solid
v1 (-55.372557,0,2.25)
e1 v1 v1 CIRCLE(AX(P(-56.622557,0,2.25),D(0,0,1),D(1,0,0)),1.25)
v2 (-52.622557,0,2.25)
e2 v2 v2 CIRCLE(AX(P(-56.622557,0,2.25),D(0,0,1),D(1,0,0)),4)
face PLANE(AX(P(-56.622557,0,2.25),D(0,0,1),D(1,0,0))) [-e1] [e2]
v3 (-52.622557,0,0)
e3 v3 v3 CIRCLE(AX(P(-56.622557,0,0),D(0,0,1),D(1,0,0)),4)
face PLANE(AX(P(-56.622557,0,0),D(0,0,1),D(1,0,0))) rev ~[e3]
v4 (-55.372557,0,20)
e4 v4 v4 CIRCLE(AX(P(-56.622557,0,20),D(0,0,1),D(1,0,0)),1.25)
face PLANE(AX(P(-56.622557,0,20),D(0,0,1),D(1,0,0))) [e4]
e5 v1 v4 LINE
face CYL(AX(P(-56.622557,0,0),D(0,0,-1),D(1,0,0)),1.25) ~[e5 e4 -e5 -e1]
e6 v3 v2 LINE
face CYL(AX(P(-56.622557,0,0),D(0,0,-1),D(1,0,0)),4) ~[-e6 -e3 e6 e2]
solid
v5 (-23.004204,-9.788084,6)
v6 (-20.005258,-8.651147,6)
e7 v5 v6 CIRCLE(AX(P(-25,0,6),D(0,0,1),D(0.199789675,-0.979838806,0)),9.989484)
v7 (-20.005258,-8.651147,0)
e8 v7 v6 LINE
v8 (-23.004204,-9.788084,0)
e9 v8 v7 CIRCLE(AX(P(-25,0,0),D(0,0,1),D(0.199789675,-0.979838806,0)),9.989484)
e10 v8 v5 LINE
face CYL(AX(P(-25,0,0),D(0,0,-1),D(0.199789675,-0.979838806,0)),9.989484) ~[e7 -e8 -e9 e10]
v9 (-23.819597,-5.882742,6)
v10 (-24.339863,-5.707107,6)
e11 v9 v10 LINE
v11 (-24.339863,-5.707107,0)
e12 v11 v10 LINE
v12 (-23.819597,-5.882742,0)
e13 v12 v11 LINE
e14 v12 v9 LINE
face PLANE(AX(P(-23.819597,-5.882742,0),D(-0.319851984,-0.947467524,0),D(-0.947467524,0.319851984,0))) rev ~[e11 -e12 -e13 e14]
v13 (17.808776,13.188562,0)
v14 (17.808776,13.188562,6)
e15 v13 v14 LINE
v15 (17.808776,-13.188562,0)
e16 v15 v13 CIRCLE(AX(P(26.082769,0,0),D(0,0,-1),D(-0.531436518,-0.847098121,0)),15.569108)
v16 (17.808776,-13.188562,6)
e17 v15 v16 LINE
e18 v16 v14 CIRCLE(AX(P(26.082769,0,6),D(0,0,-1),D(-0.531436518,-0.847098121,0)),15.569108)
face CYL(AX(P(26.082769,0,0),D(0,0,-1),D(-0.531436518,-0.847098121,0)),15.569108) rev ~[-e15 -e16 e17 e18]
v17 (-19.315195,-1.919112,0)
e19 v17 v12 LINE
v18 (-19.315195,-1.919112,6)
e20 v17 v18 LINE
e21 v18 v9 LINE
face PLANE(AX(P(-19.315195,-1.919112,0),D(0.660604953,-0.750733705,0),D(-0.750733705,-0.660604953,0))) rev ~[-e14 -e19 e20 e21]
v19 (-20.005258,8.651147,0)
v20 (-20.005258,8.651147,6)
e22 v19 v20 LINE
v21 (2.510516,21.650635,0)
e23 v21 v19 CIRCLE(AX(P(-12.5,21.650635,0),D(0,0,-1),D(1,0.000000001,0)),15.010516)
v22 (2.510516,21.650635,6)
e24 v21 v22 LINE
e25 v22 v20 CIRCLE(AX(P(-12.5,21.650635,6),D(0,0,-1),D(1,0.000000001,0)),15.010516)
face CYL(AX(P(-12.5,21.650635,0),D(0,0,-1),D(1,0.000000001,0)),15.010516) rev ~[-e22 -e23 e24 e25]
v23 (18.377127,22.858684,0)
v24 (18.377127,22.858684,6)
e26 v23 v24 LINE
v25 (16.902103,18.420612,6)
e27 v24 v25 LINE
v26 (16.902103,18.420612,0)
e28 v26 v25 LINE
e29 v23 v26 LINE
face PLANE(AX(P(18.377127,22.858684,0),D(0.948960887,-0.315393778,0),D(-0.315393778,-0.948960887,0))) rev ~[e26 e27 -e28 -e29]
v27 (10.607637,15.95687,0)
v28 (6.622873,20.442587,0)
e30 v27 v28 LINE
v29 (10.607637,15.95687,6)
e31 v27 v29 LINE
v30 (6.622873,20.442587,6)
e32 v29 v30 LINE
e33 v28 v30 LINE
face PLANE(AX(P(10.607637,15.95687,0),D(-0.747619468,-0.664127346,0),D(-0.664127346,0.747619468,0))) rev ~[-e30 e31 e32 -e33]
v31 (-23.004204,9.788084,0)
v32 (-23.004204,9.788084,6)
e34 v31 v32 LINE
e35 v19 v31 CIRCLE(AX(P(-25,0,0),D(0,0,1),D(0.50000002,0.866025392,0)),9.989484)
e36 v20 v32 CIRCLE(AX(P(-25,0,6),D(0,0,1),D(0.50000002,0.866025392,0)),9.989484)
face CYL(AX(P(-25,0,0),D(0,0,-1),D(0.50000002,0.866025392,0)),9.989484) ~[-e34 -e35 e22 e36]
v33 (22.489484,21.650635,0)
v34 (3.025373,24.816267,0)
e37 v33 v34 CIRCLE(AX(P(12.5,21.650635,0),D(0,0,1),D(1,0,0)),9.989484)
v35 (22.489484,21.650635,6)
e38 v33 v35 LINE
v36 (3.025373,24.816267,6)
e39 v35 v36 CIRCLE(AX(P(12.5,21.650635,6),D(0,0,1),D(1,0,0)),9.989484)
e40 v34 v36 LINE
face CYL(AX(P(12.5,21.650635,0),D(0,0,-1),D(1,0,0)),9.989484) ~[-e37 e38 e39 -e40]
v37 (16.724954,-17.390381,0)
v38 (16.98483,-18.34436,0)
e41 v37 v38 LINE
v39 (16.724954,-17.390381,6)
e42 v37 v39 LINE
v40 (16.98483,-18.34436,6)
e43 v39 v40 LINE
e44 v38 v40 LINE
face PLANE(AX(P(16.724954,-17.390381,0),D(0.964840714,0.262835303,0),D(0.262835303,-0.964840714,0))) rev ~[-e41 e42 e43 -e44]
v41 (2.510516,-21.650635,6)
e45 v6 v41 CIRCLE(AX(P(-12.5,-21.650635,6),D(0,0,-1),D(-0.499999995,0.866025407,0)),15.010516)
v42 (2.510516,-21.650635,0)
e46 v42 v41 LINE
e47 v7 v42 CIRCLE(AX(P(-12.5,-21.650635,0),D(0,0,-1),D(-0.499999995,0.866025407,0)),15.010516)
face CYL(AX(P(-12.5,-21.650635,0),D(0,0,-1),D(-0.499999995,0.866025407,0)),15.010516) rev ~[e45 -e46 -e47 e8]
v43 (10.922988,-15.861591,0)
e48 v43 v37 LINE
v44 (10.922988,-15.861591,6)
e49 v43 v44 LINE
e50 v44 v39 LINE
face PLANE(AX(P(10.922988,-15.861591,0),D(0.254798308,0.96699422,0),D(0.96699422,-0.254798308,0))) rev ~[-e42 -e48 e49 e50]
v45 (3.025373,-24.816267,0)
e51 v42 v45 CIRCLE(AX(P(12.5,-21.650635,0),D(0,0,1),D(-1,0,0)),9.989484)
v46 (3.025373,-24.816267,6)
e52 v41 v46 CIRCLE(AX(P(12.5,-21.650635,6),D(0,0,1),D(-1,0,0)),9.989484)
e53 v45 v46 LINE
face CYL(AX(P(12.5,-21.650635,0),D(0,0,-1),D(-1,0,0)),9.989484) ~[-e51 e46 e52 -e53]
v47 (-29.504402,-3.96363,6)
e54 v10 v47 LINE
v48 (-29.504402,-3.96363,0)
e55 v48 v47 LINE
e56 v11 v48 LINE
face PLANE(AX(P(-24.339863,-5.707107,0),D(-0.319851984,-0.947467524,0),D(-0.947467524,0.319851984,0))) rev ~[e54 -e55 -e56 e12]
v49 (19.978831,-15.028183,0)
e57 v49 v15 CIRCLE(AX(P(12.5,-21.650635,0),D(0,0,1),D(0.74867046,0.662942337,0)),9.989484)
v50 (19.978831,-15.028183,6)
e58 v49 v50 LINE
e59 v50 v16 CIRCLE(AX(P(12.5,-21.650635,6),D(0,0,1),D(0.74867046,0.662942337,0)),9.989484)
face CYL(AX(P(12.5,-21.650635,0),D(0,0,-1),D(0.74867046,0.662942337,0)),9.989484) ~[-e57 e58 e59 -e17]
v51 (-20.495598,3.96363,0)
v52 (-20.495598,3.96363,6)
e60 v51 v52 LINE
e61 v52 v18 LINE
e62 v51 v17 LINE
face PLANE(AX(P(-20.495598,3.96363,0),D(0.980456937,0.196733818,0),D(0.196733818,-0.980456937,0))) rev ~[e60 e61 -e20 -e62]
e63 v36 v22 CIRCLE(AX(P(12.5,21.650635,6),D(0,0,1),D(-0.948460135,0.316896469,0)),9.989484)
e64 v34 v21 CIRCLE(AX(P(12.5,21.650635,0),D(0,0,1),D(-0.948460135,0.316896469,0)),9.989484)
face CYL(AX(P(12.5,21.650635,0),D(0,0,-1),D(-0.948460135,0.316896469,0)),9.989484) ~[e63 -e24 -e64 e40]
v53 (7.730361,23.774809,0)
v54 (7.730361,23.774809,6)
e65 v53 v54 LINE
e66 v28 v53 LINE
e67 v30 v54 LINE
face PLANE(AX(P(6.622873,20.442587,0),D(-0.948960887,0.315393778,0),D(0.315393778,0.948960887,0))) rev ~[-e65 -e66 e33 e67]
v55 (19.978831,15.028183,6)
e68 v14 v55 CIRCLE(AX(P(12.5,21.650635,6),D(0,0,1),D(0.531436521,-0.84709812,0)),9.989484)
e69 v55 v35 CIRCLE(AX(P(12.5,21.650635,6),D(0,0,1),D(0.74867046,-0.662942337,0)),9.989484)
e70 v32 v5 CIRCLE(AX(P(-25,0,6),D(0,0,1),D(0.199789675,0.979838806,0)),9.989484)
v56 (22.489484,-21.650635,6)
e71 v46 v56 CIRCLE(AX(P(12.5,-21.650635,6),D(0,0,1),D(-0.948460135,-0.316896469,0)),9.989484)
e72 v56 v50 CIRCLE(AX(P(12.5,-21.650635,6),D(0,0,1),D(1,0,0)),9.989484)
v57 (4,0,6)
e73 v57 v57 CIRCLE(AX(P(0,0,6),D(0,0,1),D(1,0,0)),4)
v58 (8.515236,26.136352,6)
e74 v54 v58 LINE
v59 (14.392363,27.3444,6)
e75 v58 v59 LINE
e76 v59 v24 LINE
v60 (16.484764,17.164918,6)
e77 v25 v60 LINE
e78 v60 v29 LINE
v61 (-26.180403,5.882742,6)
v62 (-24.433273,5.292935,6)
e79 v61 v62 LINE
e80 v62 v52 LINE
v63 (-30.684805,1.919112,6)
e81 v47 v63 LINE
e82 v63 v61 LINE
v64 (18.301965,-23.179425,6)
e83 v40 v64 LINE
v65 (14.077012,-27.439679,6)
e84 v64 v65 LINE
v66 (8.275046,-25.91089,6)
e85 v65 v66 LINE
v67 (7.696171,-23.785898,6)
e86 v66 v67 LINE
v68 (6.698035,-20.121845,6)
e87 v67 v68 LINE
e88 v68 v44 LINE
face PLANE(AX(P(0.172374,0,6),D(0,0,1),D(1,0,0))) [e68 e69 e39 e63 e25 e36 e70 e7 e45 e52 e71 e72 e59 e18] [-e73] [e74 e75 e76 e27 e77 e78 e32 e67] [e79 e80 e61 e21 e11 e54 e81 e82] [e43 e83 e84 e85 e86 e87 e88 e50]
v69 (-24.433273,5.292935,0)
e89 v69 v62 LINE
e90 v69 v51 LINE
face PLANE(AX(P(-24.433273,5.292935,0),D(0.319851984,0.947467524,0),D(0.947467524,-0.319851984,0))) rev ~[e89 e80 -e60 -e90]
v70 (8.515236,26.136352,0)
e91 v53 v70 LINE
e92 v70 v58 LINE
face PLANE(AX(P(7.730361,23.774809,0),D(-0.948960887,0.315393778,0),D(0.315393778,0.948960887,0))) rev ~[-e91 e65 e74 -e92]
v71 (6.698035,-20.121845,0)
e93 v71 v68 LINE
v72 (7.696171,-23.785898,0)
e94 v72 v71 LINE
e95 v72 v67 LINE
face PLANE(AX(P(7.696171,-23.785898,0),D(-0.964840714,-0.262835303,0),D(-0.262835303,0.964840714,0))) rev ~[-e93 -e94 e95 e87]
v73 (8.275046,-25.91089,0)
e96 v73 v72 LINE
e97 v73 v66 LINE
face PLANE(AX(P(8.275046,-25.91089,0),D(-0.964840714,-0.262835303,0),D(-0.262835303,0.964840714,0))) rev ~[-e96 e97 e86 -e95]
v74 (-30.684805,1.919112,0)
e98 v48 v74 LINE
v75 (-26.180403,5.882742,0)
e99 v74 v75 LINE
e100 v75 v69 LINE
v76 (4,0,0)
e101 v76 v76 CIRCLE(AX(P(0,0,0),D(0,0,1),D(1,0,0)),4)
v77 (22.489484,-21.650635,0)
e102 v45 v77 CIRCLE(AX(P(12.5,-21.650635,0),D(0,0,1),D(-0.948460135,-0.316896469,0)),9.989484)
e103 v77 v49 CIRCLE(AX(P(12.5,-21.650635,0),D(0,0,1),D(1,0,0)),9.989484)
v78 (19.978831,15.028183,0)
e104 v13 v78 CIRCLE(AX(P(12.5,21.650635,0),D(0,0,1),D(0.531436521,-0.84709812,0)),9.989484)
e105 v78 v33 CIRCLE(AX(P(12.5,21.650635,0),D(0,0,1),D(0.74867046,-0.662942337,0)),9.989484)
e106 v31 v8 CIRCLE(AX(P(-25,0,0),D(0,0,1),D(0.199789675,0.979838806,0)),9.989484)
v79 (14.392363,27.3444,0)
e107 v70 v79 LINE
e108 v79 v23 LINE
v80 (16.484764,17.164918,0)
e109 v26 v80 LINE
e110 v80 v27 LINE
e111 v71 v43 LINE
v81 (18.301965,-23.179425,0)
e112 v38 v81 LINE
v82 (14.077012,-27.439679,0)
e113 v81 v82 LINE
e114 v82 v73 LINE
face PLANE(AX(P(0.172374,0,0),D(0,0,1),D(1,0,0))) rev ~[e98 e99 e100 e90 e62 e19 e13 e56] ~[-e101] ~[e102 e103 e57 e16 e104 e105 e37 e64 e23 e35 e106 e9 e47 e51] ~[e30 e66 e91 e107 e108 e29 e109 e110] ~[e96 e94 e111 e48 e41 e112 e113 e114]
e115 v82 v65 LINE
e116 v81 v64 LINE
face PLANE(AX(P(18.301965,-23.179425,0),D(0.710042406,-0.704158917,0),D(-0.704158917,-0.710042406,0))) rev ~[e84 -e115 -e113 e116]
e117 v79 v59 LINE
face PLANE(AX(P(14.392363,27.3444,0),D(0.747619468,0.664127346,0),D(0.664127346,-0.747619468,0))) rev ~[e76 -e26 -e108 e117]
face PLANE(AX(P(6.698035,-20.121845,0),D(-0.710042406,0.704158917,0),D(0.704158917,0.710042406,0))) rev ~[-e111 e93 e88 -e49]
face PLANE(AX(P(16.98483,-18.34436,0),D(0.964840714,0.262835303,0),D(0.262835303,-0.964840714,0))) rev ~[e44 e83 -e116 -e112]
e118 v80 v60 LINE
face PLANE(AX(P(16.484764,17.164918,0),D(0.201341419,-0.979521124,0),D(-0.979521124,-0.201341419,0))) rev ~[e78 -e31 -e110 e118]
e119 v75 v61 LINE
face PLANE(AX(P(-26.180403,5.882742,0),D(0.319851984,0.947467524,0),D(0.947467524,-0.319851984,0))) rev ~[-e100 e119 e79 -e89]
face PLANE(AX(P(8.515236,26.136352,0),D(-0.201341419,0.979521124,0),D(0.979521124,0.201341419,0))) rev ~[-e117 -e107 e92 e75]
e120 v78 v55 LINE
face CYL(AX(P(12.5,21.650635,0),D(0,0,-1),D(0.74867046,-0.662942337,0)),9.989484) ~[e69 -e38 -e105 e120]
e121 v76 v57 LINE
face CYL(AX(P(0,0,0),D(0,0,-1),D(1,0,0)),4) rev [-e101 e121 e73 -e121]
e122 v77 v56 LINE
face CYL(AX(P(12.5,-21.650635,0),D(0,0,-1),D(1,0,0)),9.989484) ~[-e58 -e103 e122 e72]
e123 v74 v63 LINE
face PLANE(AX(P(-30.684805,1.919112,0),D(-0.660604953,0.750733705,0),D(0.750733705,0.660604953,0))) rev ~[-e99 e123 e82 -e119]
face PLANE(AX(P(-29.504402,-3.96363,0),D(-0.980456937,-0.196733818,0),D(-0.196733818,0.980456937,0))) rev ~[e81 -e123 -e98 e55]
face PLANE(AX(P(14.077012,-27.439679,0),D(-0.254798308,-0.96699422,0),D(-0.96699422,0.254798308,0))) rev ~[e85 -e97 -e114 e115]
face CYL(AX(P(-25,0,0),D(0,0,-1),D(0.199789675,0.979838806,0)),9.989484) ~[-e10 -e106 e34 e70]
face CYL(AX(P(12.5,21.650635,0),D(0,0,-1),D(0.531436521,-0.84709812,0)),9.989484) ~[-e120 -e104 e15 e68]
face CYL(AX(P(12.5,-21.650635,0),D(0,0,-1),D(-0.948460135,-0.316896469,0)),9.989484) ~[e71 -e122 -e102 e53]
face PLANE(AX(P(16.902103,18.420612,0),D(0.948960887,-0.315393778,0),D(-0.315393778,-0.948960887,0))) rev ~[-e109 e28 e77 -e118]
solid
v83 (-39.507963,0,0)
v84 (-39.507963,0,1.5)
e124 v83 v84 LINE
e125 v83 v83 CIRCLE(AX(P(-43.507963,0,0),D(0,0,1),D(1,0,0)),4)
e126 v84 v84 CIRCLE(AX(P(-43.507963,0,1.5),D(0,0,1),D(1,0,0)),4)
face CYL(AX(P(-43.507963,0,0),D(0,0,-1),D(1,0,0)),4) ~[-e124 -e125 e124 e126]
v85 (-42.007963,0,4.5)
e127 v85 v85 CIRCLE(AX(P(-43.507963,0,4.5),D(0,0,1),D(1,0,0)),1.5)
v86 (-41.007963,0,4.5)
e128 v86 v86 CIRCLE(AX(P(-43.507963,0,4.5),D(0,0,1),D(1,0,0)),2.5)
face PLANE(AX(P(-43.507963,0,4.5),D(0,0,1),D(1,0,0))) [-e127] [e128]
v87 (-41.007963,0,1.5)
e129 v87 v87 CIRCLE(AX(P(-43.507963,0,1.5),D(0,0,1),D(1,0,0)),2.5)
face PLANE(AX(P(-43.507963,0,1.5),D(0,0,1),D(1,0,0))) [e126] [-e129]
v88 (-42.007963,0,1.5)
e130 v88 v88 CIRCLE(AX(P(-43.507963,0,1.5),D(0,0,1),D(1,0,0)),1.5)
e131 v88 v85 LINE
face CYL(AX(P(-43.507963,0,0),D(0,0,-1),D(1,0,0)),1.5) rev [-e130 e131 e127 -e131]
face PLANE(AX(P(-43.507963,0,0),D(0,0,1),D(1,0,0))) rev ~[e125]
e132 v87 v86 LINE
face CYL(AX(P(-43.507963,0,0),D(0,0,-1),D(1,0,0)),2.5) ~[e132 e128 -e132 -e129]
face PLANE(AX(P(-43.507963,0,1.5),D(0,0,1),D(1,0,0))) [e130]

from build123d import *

# Parameters (mm, degrees)
F0_R     = 4
F1_DEPTH = 6
F2_R     = 4
F2_R_2   = 1.25
F3_DEPTH = 2.25
F4_DEPTH = 20
F2_R_3   = 2.5
F5_DEPTH = 1.5
F2_R_4   = 1.5
F6_DEPTH = 4.5
F7_DEPTH = 1.5


with BuildPart() as f1:
    # F0 (on Top) → F1 (new body)
    with BuildSketch(Plane.XY):
        with BuildLine():
            ThreePointArc((17.8087764651, -13.1885621655), (10.5136609995, 1.55e-08), (17.8087764913, 13.1885621819))
            ThreePointArc((17.8087764913, 13.1885621819), (7.6648242348, 12.9093044674), (2.5105162388, 21.6506351062))
            ThreePointArc((2.5105162388, 21.6506351062), (-4.9947417775, 8.6511467674), (-20.0052579234, 8.6511465947))
            ThreePointArc((-20.0052579234, 8.6511465947), (-16.3488532355, 4.9947417826), (-15.0105162388, 0))
            ThreePointArc((-15.0105162388, 0), (-16.348853269, -4.9947418405), (-20.0052580393, -8.6511466616))
            ThreePointArc((-20.0052580393, -8.6511466616), (-4.9947418405, -8.651146731), (2.5105162388, -21.6506350946))
            ThreePointArc((2.5105162388, -21.6506350946), (7.6648242263, -12.9093044721), (17.8087764651, -13.1885621655))
        make_face()
        Circle(F0_R, mode=Mode.SUBTRACT)
        with BuildLine():
            ThreePointArc((-15.0105162388, 0), (-16.3488532355, 4.9947417826), (-20.0052579234, 8.6511465947))
            ThreePointArc((-20.0052579234, 8.6511465947), (-21.4588051121, 9.3407561033), (-23.0042042837, 9.7880838407))
            ThreePointArc((-23.0042042837, 9.7880838407), (-23.7195905897, 7.8981657526), (-24.28, 5.9566433501))
            ThreePointArc((-24.28, 5.9566433501), (-22.2041780271, 5.3088020773), (-20.4955977684, 3.9636297173))
            ThreePointArc((-20.4955977684, 3.9636297173), (-19.3863374973, 2.1182052085), (-19, 0))
            ThreePointArc((-19, 0), (-19.0793230601, -0.9724117304), (-19.3151948578, -1.9191119027))
            ThreePointArc((-19.3151948578, -1.9191119027), (-21.0363702827, -4.5044022316), (-23.8195970894, -5.8827416201))
            ThreePointArc((-23.8195970894, -5.8827416201), (-24.0490803546, -5.9241667623), (-24.28, -5.9566433501))
            ThreePointArc((-24.28, -5.9566433501), (-23.7195905897, -7.8981657526), (-23.0042042837, -9.7880838407))
            ThreePointArc((-23.0042042837, -9.7880838407), (-21.4588051747, -9.340756127), (-20.0052580393, -8.6511466616))
            ThreePointArc((-20.0052580393, -8.6511466616), (-16.348853269, -4.9947418405), (-15.0105162388, 0))
        make_face()
        with BuildLine():
            ThreePointArc((-24.28, 5.9566433501), (-23.7195905897, 7.8981657526), (-23.0042042837, 9.7880838407))
            ThreePointArc((-23.0042042837, 9.7880838407), (-34.9894837612, 0), (-23.0042042837, -9.7880838407))
            ThreePointArc((-23.0042042837, -9.7880838407), (-23.7195905897, -7.8981657526), (-24.28, -5.9566433501))
            ThreePointArc((-24.28, -5.9566433501), (-27.1385628113, -5.6059387352), (-29.5044022316, -3.9636297173))
            ThreePointArc((-29.5044022316, -3.9636297173), (-30.8827416201, -1.1804029106), (-30.6848051422, 1.9191119027))
            ThreePointArc((-30.6848051422, 1.9191119027), (-28.9636297173, 4.5044022316), (-26.1804029106, 5.8827416201))
            ThreePointArc((-26.1804029106, 5.8827416201), (-25.2331481856, 5.995468449), (-24.28, 5.9566433501))
        make_face()
        with BuildLine():
            Line((-30.6848051422, 1.9191119027), (-26.1804029106, 5.8827416201))
            ThreePointArc((-26.1804029106, 5.8827416201), (-28.9636297173, 4.5044022316), (-30.6848051422, 1.9191119027))
        make_face()
        with BuildLine():
            ThreePointArc((-30.6848051422, 1.9191119027), (-30.8827416201, -1.1804029106), (-29.5044022316, -3.9636297173))
            Line((-29.5044022316, -3.9636297173), (-30.6848051422, 1.9191119027))
        make_face()
        with BuildLine():
            ThreePointArc((-29.5044022316, -3.9636297173), (-27.1385628113, -5.6059387352), (-24.28, -5.9566433501))
            ThreePointArc((-24.28, -5.9566433501), (-24.3102516626, -5.8319519976), (-24.3398629699, -5.7071070259))
            Line((-24.3398629699, -5.7071070259), (-29.5044022316, -3.9636297173))
        make_face()
        with BuildLine():
            Line((-19.3151948578, -1.9191119027), (-23.8195970894, -5.8827416201))
            ThreePointArc((-23.8195970894, -5.8827416201), (-21.0363702827, -4.5044022316), (-19.3151948578, -1.9191119027))
        make_face()
        with BuildLine():
            ThreePointArc((-19, 0), (-19.3863374973, 2.1182052085), (-20.4955977684, 3.9636297173))
            Line((-20.4955977684, 3.9636297173), (-19.3151948578, -1.9191119027))
            ThreePointArc((-19.3151948578, -1.9191119027), (-19.0793230601, -0.9724117304), (-19, 0))
        make_face()
        with BuildLine():
            ThreePointArc((-20.4955977684, 3.9636297173), (-22.2041780271, 5.3088020773), (-24.28, 5.9566433501))
            ThreePointArc((-24.28, 5.9566433501), (-24.3588972483, 5.6253110889), (-24.4332732575, 5.2929347175))
            Line((-24.4332732575, 5.2929347175), (-20.4955977684, 3.9636297173))
        make_face()
        with BuildLine():
            ThreePointArc((22.4894837612, -21.6506350946), (21.8407561434, -18.1094403126), (19.9788314023, -15.0281833832))
            ThreePointArc((19.9788314023, -15.0281833832), (18.6998074799, -16.5926851418), (17.2986044624, -18.0487751288))
            ThreePointArc((17.2986044624, -18.0487751288), (18.19173202, -19.7521655498), (18.5, -21.6506350946))
            ThreePointArc((18.5, -21.6506350946), (18.4502853687, -22.4214165364), (18.301965323, -23.1794249399))
            ThreePointArc((18.301965323, -23.1794249399), (16.7602544389, -25.8755885992), (14.0770118184, -27.4396793788))
            ThreePointArc((14.0770118184, -27.4396793788), (10.9712101547, -27.4526004176), (8.2750464955, -25.9108895335))
            ThreePointArc((8.2750464955, -25.9108895335), (7.5359355918, -25.0208078722), (6.9813955376, -24.0054184789))
            ThreePointArc((6.9813955376, -24.0054184789), (5.0197831098, -24.4908508944), (3.0253728814, -24.8162672239))
            ThreePointArc((3.0253728814, -24.8162672239), (14.1036134307, -31.5105645964), (22.4894837612, -21.6506350946))
        make_face()
        with BuildLine():
            ThreePointArc((17.2986044624, -18.0487751288), (18.6998074799, -16.5926851418), (19.9788314023, -15.0281833832))
            ThreePointArc((19.9788314023, -15.0281833832), (18.9596269474, -14.0307265968), (17.8087764651, -13.1885621655))
            ThreePointArc((17.8087764651, -13.1885621655), (7.6648242263, -12.9093044721), (2.5105162388, -21.6506350946))
            ThreePointArc((2.5105162388, -21.6506350946), (2.6400704983, -23.2542485253), (3.0253728814, -24.8162672239))
            ThreePointArc((3.0253728814, -24.8162672239), (5.0197831098, -24.4908508944), (6.9813955376, -24.0054184789))
            ThreePointArc((6.9813955376, -24.0054184789), (6.5159077276, -22.0872581311), (6.698034677, -20.1218452493))
            ThreePointArc((6.698034677, -20.1218452493), (8.2397455611, -17.4256815901), (10.9229881816, -15.8615908104))
            ThreePointArc((10.9229881816, -15.8615908104), (14.0287898453, -15.8486697716), (16.7249535045, -17.3903806557))
            ThreePointArc((16.7249535045, -17.3903806557), (17.0237728078, -17.7091278216), (17.2986044624, -18.0487751288))
        make_face()
        with BuildLine():
            ThreePointArc((14.0770118184, -27.4396793788), (16.7602544389, -25.8755885992), (18.301965323, -23.1794249399))
            Line((18.301965323, -23.1794249399), (14.0770118184, -27.4396793788))
        make_face()
        with BuildLine():
            Line((14.0770118184, -27.4396793788), (8.2750464955, -25.9108895335))
            ThreePointArc((8.2750464955, -25.9108895335), (10.9712101547, -27.4526004176), (14.0770118184, -27.4396793788))
        make_face()
        with BuildLine():
            ThreePointArc((6.9813955376, -24.0054184789), (7.3396039705, -23.8983307693), (7.6961709032, -23.7858982052))
            Line((7.6961709032, -23.7858982052), (6.698034677, -20.1218452493))
            ThreePointArc((6.698034677, -20.1218452493), (6.5159077276, -22.0872581311), (6.9813955376, -24.0054184789))
        make_face()
        with BuildLine():
            Line((8.2750464955, -25.9108895335), (7.6961709032, -23.7858982052))
            ThreePointArc((7.6961709032, -23.7858982052), (7.3396039705, -23.8983307693), (6.9813955376, -24.0054184789))
            ThreePointArc((6.9813955376, -24.0054184789), (7.5359355918, -25.0208078722), (8.2750464955, -25.9108895335))
        make_face()
        with BuildLine():
            Line((6.698034677, -20.1218452493), (10.9229881816, -15.8615908104))
            ThreePointArc((10.9229881816, -15.8615908104), (8.2397455611, -17.4256815901), (6.698034677, -20.1218452493))
        make_face()
        with BuildLine():
            Line((10.9229881816, -15.8615908104), (16.7249535045, -17.3903806557))
            ThreePointArc((16.7249535045, -17.3903806557), (14.0287898453, -15.8486697716), (10.9229881816, -15.8615908104))
        make_face()
        with BuildLine():
            ThreePointArc((18.5, -21.6506350946), (18.19173202, -19.7521655498), (17.2986044624, -18.0487751288))
            ThreePointArc((17.2986044624, -18.0487751288), (17.1423543672, -18.1972439328), (16.984830058, -18.3443601115))
            Line((16.984830058, -18.3443601115), (18.301965323, -23.1794249399))
            ThreePointArc((18.301965323, -23.1794249399), (18.4502853687, -22.4214165364), (18.5, -21.6506350946))
        make_face()
        with BuildLine():
            ThreePointArc((16.984830058, -18.3443601115), (17.1423543672, -18.1972439328), (17.2986044624, -18.0487751288))
            ThreePointArc((17.2986044624, -18.0487751288), (17.0237728078, -17.7091278216), (16.7249535045, -17.3903806557))
            Line((16.7249535045, -17.3903806557), (16.984830058, -18.3443601115))
        make_face()
        with BuildLine():
            ThreePointArc((17.2986044624, 18.0487751288), (18.6998074799, 16.5926851418), (19.9788314023, 15.0281833832))
            ThreePointArc((19.9788314023, 15.0281833832), (21.8407561434, 18.1094403126), (22.4894837612, 21.6506350946))
            ThreePointArc((22.4894837612, 21.6506350946), (14.1036134307, 31.5105645964), (3.0253728814, 24.8162672239))
            ThreePointArc((3.0253728814, 24.8162672239), (5.0197831098, 24.4908508944), (6.9813955376, 24.0054184789))
            ThreePointArc((6.9813955376, 24.0054184789), (7.6303262217, 25.1558137338), (8.5152359236, 26.1363518997))
            ThreePointArc((8.5152359236, 26.1363518997), (11.2919514843, 27.5277618402), (14.3923626692, 27.3444004154))
            ThreePointArc((14.3923626692, 27.3444004154), (16.9857168051, 25.635399171), (18.3771267456, 22.8586836103))
            ThreePointArc((18.3771267456, 22.8586836103), (18.4692026467, 22.2577757399), (18.5, 21.6506350946))
            ThreePointArc((18.5, 21.6506350946), (18.19173202, 19.7521655498), (17.2986044624, 18.0487751288))
        make_face()
        with BuildLine():
            ThreePointArc((17.8087764913, 13.1885621819), (18.9596269591, 14.0307266068), (19.9788314023, 15.0281833832))
            ThreePointArc((19.9788314023, 15.0281833832), (18.6998074799, 16.5926851418), (17.2986044624, 18.0487751288))
            ThreePointArc((17.2986044624, 18.0487751288), (16.9138635514, 17.5864244025), (16.4847640764, 17.1649182895))
            ThreePointArc((16.4847640764, 17.1649182895), (13.7080485157, 15.773508349), (10.6076373308, 15.9568697738))
            ThreePointArc((10.6076373308, 15.9568697738), (8.0142831949, 17.6658710182), (6.6228732544, 20.4425865789))
            ThreePointArc((6.6228732544, 20.4425865789), (6.5301494802, 22.2513719518), (6.9813955376, 24.0054184789))
            ThreePointArc((6.9813955376, 24.0054184789), (5.0197831098, 24.4908508944), (3.0253728814, 24.8162672239))
            ThreePointArc((3.0253728814, 24.8162672239), (2.6400704992, 23.254248531), (2.5105162388, 21.6506351062))
            ThreePointArc((2.5105162388, 21.6506351062), (7.6648242348, 12.9093044674), (17.8087764913, 13.1885621819))
        make_face()
        with BuildLine():
            ThreePointArc((6.6228732544, 20.4425865789), (8.0142831949, 17.6658710182), (10.6076373308, 15.9568697738))
            Line((10.6076373308, 15.9568697738), (6.6228732544, 20.4425865789))
        make_face()
        with BuildLine():
            Line((6.6228732544, 20.4425865789), (7.7303605299, 23.7748086444))
            ThreePointArc((7.7303605299, 23.7748086444), (7.3567816925, 23.8930484269), (6.9813955376, 24.0054184789))
            ThreePointArc((6.9813955376, 24.0054184789), (6.5301494802, 22.2513719518), (6.6228732544, 20.4425865789))
        make_face()
        with BuildLine():
            ThreePointArc((6.9813955376, 24.0054184789), (7.3567816925, 23.8930484269), (7.7303605299, 23.7748086444))
            Line((7.7303605299, 23.7748086444), (8.5152359236, 26.1363518997))
            ThreePointArc((8.5152359236, 26.1363518997), (7.6303262217, 25.1558137338), (6.9813955376, 24.0054184789))
        make_face()
        with BuildLine():
            ThreePointArc((14.3923626692, 27.3444004154), (11.2919514843, 27.5277618402), (8.5152359236, 26.1363518997))
            Line((8.5152359236, 26.1363518997), (14.3923626692, 27.3444004154))
        make_face()
        with BuildLine():
            Line((14.3923626692, 27.3444004154), (18.3771267456, 22.8586836103))
            ThreePointArc((18.3771267456, 22.8586836103), (16.9857168051, 25.635399171), (14.3923626692, 27.3444004154))
        make_face()
        with BuildLine():
            ThreePointArc((16.9021025092, 18.4206115742), (17.1013641247, 18.2357710304), (17.2986044624, 18.0487751288))
            ThreePointArc((17.2986044624, 18.0487751288), (18.19173202, 19.7521655498), (18.5, 21.6506350946))
            ThreePointArc((18.5, 21.6506350946), (18.4692026467, 22.2577757399), (18.3771267456, 22.8586836103))
            Line((18.3771267456, 22.8586836103), (16.9021025092, 18.4206115742))
        make_face()
        with BuildLine():
            ThreePointArc((16.4847640764, 17.1649182895), (16.9138635514, 17.5864244025), (17.2986044624, 18.0487751288))
            ThreePointArc((17.2986044624, 18.0487751288), (17.1013641247, 18.2357710304), (16.9021025092, 18.4206115742))
            Line((16.9021025092, 18.4206115742), (16.4847640764, 17.1649182895))
        make_face()
        with BuildLine():
            ThreePointArc((10.6076373308, 15.9568697738), (13.7080485157, 15.773508349), (16.4847640764, 17.1649182895))
            Line((16.4847640764, 17.1649182895), (10.6076373308, 15.9568697738))
        make_face()
        with BuildLine():
            ThreePointArc((-24.4332732575, 5.2929347175), (-24.3588972483, 5.6253110889), (-24.28, 5.9566433501))
            ThreePointArc((-24.28, 5.9566433501), (-25.2331481856, 5.995468449), (-26.1804029106, 5.8827416201))
            Line((-26.1804029106, 5.8827416201), (-24.4332732575, 5.2929347175))
        make_face()
        with BuildLine():
            ThreePointArc((-24.3398629699, -5.7071070259), (-24.3102516626, -5.8319519976), (-24.28, -5.9566433501))
            ThreePointArc((-24.28, -5.9566433501), (-24.0490803546, -5.9241667623), (-23.8195970894, -5.8827416201))
            Line((-23.8195970894, -5.8827416201), (-24.3398629699, -5.7071070259))
        make_face()
    extrude(amount=F1_DEPTH)


with BuildPart() as f3:
    # F2 (on Top) → F3 (new body)
    with BuildSketch(Plane.XY):
        with Locations((-56.6225573421, 0)):
            Circle(F2_R)
        with Locations((-56.6225573421, 0)):
            Circle(F2_R_2, mode=Mode.SUBTRACT)
    extrude(amount=F3_DEPTH)

    # F2 (on Top) → F4 (join)
    with BuildSketch(Plane.XY):
        with Locations((-56.6225573421, 0)):
            Circle(F2_R_2)
    extrude(amount=F4_DEPTH)


with BuildPart() as f5:
    # F2 (on Top) → F5 (new body)
    with BuildSketch(Plane.XY):
        with Locations((-43.507963419, 0)):
            Circle(F2_R)
        with Locations((-43.507963419, 0)):
            Circle(F2_R_3, mode=Mode.SUBTRACT)
    extrude(amount=F5_DEPTH)

    # F2 (on Top) → F6 (join)
    with BuildSketch(Plane.XY):
        with Locations((-43.507963419, 0)):
            Circle(F2_R_3)
        with Locations((-43.507963419, 0)):
            Circle(F2_R_4, mode=Mode.SUBTRACT)
    extrude(amount=F6_DEPTH)

    # F2 (on Top) → F7 (join)
    with BuildSketch(Plane.XY):
        with Locations((-43.507963419, 0)):
            Circle(F2_R_4)
    extrude(amount=F7_DEPTH)


solid = Compound([f1.part, f3.part, f5.part])
